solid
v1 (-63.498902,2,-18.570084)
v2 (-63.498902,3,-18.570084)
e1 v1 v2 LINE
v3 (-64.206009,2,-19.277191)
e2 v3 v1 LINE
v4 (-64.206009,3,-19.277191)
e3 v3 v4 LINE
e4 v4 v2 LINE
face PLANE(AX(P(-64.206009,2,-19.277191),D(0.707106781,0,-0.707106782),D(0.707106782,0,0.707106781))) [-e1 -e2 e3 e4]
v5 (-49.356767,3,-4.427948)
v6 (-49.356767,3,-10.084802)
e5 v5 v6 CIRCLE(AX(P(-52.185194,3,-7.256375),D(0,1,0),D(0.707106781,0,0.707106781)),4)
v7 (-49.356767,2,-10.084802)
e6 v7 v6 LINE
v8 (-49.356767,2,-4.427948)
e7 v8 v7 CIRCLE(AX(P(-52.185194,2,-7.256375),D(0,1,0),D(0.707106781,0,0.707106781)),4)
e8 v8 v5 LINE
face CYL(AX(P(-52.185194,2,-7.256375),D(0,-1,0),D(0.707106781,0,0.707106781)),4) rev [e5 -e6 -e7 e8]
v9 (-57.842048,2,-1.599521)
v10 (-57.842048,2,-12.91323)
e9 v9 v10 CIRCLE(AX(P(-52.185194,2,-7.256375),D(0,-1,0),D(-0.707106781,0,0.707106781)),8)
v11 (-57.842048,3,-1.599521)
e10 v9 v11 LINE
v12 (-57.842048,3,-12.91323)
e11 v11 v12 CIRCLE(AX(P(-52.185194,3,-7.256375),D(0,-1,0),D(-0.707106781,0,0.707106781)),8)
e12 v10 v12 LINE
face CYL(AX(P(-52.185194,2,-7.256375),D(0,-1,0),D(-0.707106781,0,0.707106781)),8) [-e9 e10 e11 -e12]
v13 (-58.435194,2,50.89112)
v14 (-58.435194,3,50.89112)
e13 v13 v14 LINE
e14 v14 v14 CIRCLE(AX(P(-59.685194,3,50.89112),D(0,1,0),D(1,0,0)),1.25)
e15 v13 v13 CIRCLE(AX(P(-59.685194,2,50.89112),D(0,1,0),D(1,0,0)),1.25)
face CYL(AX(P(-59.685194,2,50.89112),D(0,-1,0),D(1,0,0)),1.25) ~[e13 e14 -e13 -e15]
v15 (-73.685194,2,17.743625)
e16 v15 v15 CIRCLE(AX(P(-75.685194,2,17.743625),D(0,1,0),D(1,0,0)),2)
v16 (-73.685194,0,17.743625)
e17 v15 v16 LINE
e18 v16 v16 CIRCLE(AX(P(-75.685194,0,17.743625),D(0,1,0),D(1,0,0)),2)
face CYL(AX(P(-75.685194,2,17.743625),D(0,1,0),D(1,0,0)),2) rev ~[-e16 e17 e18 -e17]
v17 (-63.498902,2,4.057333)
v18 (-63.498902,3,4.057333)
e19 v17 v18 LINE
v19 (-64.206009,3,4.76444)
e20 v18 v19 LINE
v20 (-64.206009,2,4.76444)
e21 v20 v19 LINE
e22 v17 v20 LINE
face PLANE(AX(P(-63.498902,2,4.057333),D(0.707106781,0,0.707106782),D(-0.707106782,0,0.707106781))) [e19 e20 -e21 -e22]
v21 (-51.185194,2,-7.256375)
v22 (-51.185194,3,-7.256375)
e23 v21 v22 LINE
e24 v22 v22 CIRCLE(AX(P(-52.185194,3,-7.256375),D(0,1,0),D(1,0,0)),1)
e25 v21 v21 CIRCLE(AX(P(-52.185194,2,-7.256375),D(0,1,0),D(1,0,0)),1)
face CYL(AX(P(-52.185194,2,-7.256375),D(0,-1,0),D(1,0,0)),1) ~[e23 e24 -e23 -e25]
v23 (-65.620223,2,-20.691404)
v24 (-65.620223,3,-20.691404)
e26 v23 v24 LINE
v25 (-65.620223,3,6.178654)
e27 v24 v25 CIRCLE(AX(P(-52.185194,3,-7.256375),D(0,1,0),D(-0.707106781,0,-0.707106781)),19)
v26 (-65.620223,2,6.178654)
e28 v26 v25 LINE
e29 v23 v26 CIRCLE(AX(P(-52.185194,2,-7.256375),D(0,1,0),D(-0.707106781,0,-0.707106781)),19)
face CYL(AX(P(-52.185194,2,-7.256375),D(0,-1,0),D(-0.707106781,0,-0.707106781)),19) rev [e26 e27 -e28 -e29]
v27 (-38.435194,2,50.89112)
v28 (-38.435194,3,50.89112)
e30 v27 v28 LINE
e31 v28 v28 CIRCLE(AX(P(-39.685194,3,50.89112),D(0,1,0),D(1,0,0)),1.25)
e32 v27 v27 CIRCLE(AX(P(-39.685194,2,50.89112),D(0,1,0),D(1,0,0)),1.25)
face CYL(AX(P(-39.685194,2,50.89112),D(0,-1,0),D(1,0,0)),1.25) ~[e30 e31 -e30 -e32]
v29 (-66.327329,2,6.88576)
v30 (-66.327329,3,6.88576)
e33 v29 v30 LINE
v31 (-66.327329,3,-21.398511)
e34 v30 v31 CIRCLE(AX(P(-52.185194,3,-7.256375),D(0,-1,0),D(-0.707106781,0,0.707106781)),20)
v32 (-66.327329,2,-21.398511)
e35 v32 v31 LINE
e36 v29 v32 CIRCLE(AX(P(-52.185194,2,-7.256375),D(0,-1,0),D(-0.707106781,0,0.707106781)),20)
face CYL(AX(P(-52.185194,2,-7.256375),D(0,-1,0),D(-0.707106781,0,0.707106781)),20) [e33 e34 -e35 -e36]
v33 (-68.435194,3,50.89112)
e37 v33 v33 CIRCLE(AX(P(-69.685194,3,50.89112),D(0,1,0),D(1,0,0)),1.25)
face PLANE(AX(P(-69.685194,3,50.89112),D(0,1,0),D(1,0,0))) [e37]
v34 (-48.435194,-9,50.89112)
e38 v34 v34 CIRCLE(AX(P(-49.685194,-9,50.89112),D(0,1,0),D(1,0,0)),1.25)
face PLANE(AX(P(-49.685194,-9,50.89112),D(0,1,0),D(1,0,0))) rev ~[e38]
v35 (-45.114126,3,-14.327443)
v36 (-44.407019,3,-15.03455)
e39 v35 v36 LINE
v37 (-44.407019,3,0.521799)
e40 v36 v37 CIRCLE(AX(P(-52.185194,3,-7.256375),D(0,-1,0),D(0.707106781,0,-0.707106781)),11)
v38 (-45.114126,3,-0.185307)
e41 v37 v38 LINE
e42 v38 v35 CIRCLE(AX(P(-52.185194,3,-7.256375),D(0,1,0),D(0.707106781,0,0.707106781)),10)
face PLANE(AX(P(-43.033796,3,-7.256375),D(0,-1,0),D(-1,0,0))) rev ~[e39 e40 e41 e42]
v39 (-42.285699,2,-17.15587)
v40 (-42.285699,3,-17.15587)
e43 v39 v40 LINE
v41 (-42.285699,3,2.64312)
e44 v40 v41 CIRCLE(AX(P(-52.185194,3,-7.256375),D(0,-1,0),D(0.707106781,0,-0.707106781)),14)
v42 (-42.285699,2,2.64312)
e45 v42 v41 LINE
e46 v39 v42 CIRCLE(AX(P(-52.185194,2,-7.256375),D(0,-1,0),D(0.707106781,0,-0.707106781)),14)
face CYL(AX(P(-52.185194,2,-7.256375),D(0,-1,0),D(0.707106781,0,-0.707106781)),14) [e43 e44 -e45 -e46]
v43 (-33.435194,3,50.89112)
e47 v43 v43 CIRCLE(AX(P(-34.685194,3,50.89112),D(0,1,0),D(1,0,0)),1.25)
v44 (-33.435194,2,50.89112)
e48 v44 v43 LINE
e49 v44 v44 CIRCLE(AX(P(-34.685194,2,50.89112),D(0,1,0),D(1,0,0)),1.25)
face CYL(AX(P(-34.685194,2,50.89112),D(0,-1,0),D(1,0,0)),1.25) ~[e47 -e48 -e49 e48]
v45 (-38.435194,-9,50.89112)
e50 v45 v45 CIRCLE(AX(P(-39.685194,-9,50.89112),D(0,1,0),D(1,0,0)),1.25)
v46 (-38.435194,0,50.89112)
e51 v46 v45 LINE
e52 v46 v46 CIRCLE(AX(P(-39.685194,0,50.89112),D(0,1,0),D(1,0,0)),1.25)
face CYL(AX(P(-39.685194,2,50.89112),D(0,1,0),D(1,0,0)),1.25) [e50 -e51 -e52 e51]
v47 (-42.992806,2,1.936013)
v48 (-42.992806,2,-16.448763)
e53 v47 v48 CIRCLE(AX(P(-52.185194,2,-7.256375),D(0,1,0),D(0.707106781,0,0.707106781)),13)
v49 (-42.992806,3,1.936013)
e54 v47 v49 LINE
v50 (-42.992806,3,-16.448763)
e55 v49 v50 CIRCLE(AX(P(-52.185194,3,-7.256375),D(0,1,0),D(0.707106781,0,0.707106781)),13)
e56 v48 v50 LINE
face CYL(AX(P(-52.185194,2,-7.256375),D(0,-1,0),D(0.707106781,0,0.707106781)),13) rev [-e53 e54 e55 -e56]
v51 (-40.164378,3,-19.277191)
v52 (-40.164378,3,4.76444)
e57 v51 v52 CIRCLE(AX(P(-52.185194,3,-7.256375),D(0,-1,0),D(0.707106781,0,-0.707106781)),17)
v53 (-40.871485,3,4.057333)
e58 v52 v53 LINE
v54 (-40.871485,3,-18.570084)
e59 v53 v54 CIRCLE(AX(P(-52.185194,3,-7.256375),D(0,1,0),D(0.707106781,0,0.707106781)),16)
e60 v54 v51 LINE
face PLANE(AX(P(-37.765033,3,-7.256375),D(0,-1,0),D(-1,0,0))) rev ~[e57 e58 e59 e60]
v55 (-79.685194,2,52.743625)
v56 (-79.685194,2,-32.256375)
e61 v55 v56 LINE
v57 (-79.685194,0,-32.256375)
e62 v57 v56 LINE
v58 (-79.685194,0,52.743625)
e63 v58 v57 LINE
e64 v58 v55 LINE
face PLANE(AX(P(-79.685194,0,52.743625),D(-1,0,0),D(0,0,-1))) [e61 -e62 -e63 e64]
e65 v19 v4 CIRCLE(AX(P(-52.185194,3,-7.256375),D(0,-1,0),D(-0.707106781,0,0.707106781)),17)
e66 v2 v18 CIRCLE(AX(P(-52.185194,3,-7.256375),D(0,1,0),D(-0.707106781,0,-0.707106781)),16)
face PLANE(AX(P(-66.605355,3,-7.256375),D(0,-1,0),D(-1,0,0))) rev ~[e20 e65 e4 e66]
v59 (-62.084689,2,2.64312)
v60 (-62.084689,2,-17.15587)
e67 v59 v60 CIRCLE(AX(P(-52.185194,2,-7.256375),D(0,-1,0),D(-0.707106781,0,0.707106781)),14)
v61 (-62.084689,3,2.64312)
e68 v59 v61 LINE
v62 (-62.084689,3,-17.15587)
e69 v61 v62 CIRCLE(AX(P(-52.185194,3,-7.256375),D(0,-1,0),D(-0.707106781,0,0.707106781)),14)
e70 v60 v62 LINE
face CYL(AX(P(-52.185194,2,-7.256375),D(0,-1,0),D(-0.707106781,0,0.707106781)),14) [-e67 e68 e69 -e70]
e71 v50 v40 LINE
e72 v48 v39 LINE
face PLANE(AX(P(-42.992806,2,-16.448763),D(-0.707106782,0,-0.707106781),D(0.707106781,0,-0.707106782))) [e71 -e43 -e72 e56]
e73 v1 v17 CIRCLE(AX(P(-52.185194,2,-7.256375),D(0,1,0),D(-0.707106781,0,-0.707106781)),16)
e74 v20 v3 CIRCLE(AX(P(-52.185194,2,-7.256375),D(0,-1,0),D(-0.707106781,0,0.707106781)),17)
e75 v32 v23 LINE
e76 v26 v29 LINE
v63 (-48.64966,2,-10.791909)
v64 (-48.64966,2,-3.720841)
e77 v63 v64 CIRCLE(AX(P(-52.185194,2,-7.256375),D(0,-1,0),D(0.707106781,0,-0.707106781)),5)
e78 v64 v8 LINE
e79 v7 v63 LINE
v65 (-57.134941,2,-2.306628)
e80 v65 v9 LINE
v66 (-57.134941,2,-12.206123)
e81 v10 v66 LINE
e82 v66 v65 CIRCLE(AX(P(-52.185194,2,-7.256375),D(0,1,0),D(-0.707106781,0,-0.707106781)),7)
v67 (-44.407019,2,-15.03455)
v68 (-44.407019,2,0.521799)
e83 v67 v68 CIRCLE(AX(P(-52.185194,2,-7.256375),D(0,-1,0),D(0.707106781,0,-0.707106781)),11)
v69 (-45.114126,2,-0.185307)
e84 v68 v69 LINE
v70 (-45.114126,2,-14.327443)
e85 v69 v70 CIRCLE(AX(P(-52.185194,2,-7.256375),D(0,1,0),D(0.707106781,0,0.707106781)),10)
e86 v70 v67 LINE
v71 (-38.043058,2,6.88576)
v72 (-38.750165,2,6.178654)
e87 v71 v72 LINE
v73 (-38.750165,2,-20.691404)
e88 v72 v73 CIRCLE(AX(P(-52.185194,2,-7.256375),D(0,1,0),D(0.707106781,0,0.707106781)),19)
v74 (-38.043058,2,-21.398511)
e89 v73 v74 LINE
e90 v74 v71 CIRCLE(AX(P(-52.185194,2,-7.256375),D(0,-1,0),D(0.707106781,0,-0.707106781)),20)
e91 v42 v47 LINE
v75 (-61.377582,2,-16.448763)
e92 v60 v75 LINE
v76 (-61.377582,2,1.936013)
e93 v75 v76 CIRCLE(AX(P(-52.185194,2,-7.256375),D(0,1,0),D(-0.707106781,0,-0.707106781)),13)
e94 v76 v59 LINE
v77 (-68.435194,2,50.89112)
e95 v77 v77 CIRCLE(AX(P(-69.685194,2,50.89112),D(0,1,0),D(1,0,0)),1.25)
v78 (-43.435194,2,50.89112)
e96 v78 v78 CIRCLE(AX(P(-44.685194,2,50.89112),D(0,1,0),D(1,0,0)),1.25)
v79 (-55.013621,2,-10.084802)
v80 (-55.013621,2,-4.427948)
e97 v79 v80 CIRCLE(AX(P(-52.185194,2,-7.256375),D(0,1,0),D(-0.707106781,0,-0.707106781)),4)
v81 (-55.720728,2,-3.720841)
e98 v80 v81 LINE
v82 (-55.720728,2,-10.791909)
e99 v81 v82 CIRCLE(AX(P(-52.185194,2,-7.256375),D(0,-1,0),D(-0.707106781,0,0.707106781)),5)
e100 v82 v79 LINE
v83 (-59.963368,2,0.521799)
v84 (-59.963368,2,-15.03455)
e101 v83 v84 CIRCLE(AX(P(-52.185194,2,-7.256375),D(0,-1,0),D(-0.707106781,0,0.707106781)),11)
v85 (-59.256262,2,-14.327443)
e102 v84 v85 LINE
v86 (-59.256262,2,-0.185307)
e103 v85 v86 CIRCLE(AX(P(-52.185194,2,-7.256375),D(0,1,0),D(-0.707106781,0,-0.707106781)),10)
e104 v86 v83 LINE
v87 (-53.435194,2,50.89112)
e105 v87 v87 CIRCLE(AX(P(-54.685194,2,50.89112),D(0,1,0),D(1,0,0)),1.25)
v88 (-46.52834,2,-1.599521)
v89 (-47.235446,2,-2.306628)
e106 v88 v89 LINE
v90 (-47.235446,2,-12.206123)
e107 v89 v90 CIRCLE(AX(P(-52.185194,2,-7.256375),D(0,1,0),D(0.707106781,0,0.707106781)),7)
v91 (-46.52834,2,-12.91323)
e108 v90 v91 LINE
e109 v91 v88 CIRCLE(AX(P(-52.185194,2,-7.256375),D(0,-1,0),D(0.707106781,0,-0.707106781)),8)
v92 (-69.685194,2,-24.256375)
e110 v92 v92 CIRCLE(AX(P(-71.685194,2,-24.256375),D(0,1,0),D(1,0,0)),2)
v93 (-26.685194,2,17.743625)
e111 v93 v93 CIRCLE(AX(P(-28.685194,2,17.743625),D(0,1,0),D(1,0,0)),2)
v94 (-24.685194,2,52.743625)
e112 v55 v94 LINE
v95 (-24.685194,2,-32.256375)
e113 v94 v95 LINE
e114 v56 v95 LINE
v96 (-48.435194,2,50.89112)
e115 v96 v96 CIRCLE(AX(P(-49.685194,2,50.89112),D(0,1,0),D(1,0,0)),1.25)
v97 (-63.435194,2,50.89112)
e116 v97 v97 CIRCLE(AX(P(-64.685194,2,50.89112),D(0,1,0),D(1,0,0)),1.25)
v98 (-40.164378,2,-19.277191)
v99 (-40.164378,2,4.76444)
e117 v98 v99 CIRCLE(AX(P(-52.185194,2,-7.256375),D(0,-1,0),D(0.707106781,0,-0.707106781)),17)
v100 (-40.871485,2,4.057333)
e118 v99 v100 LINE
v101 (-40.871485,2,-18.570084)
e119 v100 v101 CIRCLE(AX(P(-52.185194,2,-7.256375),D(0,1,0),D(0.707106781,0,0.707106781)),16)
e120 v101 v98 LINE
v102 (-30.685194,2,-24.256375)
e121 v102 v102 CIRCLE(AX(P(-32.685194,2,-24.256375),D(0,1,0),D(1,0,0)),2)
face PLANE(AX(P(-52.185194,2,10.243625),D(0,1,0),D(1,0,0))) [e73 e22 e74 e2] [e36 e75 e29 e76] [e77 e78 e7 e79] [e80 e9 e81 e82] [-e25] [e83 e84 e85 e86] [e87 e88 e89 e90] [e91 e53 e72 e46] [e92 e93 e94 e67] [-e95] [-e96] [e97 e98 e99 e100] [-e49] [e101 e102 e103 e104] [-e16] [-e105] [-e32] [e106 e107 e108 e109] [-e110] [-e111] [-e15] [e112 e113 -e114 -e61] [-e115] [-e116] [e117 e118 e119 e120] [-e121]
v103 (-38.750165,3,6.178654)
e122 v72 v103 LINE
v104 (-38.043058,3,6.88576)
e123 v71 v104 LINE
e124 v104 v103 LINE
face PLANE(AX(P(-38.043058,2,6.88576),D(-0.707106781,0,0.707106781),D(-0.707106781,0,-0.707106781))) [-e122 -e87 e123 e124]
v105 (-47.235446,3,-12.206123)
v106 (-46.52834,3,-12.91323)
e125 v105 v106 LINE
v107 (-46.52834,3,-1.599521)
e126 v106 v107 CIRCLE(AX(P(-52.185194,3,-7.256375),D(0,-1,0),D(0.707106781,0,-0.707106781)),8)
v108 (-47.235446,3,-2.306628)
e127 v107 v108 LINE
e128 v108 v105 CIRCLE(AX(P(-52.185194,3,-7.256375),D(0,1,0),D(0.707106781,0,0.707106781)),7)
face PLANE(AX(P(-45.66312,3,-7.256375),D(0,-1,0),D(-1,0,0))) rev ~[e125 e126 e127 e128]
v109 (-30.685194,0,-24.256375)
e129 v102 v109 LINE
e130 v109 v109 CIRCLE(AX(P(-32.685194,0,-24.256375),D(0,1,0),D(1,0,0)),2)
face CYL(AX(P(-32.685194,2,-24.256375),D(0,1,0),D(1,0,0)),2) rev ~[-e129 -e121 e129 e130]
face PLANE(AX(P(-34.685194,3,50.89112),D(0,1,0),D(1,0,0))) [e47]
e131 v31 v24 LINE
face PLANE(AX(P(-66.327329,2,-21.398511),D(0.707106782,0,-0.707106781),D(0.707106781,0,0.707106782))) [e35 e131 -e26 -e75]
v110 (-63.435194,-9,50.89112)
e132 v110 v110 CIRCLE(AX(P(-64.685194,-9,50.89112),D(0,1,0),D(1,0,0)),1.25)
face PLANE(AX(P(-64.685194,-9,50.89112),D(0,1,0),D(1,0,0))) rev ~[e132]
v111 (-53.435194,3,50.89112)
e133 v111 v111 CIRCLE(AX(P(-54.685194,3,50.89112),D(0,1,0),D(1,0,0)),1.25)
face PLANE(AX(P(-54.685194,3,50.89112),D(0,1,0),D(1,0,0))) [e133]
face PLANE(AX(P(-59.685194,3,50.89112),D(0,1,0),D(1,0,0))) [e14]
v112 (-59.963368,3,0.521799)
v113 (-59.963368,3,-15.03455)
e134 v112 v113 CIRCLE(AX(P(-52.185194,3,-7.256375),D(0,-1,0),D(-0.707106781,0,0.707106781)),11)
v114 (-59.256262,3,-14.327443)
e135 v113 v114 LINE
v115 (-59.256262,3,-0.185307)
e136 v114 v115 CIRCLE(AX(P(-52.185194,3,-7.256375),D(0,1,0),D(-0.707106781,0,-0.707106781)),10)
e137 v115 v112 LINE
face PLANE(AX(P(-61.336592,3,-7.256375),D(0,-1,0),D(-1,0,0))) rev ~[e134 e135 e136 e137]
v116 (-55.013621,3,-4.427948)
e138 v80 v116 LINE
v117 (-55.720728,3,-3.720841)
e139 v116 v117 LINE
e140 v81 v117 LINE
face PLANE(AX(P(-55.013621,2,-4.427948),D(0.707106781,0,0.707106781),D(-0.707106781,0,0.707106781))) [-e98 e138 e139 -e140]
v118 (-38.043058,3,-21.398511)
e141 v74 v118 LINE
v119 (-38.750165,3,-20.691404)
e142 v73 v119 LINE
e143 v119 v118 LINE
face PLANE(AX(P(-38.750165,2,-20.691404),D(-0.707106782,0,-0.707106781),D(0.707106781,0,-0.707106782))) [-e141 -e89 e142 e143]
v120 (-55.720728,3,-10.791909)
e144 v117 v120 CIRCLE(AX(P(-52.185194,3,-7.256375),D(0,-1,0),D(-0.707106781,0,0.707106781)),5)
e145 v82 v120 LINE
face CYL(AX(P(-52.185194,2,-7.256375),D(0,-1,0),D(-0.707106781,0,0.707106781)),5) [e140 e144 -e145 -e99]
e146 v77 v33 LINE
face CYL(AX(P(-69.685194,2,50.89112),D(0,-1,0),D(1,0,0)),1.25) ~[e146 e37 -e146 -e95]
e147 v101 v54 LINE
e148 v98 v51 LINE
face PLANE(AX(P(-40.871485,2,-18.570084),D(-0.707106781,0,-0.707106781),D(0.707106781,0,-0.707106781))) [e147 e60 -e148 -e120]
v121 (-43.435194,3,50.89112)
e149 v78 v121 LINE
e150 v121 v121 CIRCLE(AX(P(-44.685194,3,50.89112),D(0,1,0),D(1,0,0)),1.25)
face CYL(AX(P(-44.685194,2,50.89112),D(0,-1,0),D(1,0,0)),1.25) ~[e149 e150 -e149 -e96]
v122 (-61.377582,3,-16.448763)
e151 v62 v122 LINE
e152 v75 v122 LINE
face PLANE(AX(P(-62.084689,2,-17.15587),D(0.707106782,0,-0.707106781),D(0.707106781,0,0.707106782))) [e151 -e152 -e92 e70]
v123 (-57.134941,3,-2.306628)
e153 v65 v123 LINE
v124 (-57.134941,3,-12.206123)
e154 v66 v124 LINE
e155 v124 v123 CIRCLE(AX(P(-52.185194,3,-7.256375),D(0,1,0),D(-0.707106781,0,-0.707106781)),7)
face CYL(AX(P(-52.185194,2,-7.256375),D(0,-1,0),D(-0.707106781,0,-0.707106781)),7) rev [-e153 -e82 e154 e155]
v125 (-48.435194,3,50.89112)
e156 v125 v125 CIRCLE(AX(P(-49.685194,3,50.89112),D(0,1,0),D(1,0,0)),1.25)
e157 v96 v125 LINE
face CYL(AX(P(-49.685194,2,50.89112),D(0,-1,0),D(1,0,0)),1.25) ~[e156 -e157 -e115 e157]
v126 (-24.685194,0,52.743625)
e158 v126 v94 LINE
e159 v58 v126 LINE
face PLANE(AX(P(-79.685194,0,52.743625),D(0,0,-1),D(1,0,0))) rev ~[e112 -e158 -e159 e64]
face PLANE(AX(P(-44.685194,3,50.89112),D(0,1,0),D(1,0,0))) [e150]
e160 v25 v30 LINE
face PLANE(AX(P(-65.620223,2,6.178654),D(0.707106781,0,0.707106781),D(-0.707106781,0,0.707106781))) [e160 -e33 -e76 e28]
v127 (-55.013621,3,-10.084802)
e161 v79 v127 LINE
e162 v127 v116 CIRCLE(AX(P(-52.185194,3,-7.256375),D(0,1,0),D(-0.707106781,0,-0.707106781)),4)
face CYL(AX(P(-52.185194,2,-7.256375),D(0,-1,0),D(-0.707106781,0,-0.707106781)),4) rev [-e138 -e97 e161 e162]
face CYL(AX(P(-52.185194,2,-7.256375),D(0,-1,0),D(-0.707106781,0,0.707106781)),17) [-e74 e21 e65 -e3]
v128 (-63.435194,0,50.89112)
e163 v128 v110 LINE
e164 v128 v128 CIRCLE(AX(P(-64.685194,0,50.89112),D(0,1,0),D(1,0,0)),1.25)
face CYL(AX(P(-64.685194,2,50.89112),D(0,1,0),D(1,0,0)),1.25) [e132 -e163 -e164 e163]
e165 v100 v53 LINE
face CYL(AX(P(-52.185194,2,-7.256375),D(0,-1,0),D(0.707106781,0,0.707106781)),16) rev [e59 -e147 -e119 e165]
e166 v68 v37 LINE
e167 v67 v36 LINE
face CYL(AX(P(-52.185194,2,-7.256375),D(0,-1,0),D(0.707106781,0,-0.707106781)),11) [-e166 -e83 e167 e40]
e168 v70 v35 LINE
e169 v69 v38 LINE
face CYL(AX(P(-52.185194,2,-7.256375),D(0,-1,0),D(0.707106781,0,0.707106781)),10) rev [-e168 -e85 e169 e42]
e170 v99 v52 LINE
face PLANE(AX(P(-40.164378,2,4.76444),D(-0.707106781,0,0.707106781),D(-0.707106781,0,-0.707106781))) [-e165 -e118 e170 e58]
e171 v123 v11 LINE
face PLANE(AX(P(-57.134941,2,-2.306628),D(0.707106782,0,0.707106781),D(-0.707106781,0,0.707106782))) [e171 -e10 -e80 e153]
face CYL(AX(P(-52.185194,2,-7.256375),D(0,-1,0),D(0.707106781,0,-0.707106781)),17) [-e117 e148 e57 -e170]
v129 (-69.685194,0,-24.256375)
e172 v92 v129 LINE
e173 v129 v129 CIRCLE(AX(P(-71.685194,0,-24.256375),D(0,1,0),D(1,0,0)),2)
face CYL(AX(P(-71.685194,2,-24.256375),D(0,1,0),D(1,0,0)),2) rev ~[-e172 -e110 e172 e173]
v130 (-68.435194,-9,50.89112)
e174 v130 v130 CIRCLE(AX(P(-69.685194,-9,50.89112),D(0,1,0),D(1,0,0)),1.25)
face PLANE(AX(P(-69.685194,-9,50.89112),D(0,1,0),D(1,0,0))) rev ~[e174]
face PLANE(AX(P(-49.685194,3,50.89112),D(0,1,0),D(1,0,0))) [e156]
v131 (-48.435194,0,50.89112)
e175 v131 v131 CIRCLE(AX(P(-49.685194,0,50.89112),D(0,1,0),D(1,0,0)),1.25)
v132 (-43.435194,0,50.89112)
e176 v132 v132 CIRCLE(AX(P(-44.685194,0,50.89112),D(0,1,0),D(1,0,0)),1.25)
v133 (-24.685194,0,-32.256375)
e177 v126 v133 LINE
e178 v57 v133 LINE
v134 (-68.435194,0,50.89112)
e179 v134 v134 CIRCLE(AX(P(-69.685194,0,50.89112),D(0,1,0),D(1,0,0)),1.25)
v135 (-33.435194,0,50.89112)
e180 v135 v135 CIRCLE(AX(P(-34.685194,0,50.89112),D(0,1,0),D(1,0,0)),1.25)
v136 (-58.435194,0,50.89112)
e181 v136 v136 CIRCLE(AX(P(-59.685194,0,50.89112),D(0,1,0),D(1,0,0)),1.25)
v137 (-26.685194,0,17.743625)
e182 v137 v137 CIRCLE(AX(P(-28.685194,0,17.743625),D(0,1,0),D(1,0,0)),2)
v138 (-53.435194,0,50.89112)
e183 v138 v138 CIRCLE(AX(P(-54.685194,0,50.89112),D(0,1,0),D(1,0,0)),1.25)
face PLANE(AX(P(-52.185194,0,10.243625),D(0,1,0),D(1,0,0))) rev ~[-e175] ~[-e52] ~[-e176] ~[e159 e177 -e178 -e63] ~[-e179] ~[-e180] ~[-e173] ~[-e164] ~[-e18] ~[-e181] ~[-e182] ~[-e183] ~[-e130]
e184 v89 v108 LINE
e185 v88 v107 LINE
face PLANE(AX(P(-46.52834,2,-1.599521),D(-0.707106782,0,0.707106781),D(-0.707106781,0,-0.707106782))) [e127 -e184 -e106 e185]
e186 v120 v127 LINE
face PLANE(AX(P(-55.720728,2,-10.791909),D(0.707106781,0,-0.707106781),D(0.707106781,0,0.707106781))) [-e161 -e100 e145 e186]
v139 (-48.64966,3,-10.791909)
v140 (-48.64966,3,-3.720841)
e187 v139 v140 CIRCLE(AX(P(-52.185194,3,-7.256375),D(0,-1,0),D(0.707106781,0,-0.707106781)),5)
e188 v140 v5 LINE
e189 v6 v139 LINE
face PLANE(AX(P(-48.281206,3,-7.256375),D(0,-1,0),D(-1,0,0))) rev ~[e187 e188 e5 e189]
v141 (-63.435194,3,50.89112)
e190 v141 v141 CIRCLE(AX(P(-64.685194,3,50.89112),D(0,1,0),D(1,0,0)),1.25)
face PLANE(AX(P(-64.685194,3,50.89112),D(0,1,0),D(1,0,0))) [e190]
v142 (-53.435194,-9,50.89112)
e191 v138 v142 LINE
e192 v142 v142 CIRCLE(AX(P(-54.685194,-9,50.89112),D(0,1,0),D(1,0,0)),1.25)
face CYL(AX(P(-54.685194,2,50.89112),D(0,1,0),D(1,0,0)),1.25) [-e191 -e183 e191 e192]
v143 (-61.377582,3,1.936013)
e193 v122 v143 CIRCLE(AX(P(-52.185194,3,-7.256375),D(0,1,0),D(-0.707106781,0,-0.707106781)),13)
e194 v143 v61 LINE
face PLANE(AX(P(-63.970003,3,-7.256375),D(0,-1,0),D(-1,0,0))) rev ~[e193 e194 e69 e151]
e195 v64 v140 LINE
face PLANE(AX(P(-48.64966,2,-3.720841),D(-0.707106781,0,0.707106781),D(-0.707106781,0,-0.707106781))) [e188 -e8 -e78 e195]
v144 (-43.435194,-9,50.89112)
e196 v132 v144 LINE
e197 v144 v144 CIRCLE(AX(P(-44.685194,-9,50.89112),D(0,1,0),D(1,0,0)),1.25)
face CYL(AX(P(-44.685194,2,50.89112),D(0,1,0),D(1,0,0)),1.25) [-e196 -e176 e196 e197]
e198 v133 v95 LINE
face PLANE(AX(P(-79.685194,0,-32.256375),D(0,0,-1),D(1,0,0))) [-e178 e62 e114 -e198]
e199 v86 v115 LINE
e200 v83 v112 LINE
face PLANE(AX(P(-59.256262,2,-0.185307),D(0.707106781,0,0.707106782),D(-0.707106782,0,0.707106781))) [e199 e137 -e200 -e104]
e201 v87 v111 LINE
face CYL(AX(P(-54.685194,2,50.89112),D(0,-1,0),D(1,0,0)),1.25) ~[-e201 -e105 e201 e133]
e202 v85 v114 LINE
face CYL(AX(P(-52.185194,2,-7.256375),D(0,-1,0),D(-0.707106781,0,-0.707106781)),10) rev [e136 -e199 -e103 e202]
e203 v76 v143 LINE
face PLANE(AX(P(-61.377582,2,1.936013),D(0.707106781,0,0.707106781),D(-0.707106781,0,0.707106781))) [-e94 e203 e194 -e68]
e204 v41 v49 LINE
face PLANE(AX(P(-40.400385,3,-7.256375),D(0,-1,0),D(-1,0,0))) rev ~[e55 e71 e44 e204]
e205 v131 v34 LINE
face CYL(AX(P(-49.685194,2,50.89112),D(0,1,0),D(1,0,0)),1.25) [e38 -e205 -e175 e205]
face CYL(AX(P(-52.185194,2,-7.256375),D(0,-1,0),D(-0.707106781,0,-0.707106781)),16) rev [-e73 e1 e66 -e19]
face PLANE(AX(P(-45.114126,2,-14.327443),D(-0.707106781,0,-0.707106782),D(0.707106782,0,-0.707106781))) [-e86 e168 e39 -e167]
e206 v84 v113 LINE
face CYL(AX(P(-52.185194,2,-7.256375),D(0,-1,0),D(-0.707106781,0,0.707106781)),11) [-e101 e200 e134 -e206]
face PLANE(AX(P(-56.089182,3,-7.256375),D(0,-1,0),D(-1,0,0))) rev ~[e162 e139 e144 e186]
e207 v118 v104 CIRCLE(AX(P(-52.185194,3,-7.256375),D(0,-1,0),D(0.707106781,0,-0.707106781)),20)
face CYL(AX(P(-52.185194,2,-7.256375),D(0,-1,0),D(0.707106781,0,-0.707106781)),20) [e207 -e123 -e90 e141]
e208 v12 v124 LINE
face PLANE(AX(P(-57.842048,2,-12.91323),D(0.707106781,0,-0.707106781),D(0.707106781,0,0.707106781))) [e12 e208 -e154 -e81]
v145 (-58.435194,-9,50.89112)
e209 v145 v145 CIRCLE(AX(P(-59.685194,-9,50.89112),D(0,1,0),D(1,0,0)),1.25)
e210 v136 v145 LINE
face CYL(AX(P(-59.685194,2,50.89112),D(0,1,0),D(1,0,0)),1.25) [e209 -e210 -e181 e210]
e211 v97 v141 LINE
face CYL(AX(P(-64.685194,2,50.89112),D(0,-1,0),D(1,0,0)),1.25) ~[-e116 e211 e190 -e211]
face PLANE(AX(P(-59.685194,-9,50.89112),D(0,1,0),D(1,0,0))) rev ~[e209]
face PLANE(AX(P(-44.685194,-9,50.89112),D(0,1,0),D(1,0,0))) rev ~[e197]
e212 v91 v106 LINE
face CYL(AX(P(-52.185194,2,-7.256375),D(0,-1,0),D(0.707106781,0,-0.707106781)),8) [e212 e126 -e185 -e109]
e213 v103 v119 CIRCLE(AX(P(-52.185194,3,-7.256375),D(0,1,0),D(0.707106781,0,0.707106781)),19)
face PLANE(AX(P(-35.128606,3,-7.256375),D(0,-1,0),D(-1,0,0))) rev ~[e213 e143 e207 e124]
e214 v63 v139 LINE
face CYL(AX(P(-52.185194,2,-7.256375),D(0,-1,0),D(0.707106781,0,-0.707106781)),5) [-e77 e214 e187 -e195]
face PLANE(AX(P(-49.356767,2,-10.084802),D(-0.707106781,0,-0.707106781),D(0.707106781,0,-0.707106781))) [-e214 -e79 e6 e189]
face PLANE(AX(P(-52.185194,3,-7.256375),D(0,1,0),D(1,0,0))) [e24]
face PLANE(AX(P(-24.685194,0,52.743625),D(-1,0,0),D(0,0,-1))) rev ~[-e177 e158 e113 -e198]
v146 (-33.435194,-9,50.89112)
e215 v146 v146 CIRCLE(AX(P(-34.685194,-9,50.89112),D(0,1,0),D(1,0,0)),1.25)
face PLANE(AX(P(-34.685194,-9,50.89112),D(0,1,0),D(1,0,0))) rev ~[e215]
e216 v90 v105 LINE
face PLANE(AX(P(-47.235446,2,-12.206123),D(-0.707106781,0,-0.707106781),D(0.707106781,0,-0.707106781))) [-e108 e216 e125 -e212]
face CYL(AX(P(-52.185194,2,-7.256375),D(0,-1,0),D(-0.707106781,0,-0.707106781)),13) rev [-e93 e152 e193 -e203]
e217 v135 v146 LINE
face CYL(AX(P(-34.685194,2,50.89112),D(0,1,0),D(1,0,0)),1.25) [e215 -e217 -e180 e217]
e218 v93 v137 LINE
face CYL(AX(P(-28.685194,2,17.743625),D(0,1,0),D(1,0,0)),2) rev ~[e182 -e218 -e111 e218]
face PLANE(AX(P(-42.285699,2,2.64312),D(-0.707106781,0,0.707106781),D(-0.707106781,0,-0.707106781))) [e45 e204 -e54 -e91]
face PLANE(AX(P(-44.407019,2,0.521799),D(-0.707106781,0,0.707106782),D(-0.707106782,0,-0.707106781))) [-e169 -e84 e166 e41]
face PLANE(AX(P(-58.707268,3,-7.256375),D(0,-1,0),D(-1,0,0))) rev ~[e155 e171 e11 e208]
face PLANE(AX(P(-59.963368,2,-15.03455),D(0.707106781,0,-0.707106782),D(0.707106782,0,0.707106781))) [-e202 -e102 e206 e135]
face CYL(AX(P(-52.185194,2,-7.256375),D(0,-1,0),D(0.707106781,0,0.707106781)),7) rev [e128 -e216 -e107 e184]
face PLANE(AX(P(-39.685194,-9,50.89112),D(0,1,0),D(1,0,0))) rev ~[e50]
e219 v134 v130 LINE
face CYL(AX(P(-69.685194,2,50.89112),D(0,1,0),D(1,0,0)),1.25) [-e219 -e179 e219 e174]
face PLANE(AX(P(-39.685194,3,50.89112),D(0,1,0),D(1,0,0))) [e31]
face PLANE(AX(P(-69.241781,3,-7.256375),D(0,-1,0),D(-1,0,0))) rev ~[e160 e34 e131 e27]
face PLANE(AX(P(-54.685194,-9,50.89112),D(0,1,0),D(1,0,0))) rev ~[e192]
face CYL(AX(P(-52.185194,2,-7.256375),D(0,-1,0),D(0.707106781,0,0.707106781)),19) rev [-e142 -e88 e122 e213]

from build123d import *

# Parameters (mm, degrees)
ESBO_O1_W                     = 55
ESBO_O1_H                     = 85
RESSALTO_EXTRUS_O1_DEPTH      = 2
ESBO_O2_R                     = 1
RESSALTO_EXTRUS_O2_DEPTH      = 1
ESBO_O3_R                     = 1.25
RESSALTO_EXTRUS_O3_DEPTH      = 1
RESSALTO_EXTRUS_O3_DEPTH_BACK = 11
ESBO_O4_R                     = 2
CORTE_EXTRUS_O1_DEPTH         = 3


with BuildPart() as part:
    # Esboço1 → Ressalto-extrusão1 (new body)
    with BuildSketch(Plane(origin=(0, 0, 0), x_dir=(1, 0, 0), z_dir=(0, 1, 0))):
        with Locations((-52.185193749, -10.243624719)):
            Rectangle(ESBO_O1_W, ESBO_O1_H)
    extrude(amount=RESSALTO_EXTRUS_O1_DEPTH)

    # Esboço2 → Ressalto-extrusão2 (add)
    with BuildSketch(Plane(origin=(0, 2, 0), x_dir=(1, 0, 0), z_dir=(0, 1, 0))):
        with Locations((-52.185193749, 7.256375281)):
            Circle(ESBO_O2_R)
        with BuildLine():
            Line((-55.720727655, 10.791909187), (-55.013620874, 10.084802406))
            ThreePointArc((-55.013620874, 10.084802406), (-56.185193749, 7.256375281), (-55.013620874, 4.427948156))
            Line((-55.013620874, 4.427948156), (-55.720727655, 3.720841375))
            ThreePointArc((-55.720727655, 3.720841375), (-57.185193749, 7.256375281), (-55.720727655, 10.791909187))
        make_face()
        with BuildLine():
            Line((-57.842047999, 12.91322953), (-57.134941218, 12.206122749))
            ThreePointArc((-57.134941218, 12.206122749), (-59.185193749, 7.256375281), (-57.134941218, 2.306627813))
            Line((-57.134941218, 2.306627813), (-57.842047999, 1.599521031))
            ThreePointArc((-57.842047999, 1.599521031), (-60.185193749, 7.256375281), (-57.842047999, 12.91322953))
        make_face()
        with BuildLine():
            Line((-59.963368343, 15.034549874), (-59.256261561, 14.327443093))
            ThreePointArc((-59.256261561, 14.327443093), (-62.185193749, 7.256375281), (-59.256261561, 0.185307469))
            Line((-59.256261561, 0.185307469), (-59.963368343, -0.521799312))
            ThreePointArc((-59.963368343, -0.521799312), (-63.185193749, 7.256375281), (-59.963368343, 15.034549874))
        make_face()
        with BuildLine():
            Line((-62.084688686, 17.155870218), (-61.377581905, 16.448763436))
            ThreePointArc((-61.377581905, 16.448763436), (-65.185193749, 7.256375281), (-61.377581905, -1.936012875))
            Line((-61.377581905, -1.936012875), (-62.084688686, -2.643119656))
            ThreePointArc((-62.084688686, -2.643119656), (-66.185193749, 7.256375281), (-62.084688686, 17.155870218))
        make_face()
        with BuildLine():
            Line((-64.20600903, 19.277190561), (-63.498902248, 18.57008378))
            ThreePointArc((-63.498902248, 18.57008378), (-68.185193749, 7.256375281), (-63.498902248, -4.057333218))
            Line((-63.498902248, -4.057333218), (-64.20600903, -4.764439999))
            ThreePointArc((-64.20600903, -4.764439999), (-69.185193749, 7.256375281), (-64.20600903, 19.277190561))
        make_face()
        with BuildLine():
            Line((-66.327329373, 21.398510905), (-65.620222592, 20.691404123))
            ThreePointArc((-65.620222592, 20.691404123), (-71.185193749, 7.256375281), (-65.620222592, -6.178653562))
            Line((-65.620222592, -6.178653562), (-66.327329373, -6.885760343))
            ThreePointArc((-66.327329373, -6.885760343), (-72.185193749, 7.256375281), (-66.327329373, 21.398510905))
        make_face()
        with BuildLine():
            ThreePointArc((-49.356766625, 4.427948156), (-48.185193749, 7.256375281), (-49.356766625, 10.084802406))
            Line((-49.356766625, 10.084802406), (-48.649659844, 10.791909187))
            ThreePointArc((-48.649659844, 10.791909187), (-47.185193749, 7.256375281), (-48.649659844, 3.720841375))
            Line((-48.649659844, 3.720841375), (-49.356766625, 4.427948156))
        make_face()
        with BuildLine():
            ThreePointArc((-47.235446281, 2.306627813), (-45.185193749, 7.256375281), (-47.235446281, 12.206122749))
            Line((-47.235446281, 12.206122749), (-46.5283395, 12.91322953))
            ThreePointArc((-46.5283395, 12.91322953), (-44.185193749, 7.256375281), (-46.5283395, 1.599521031))
            Line((-46.5283395, 1.599521031), (-47.235446281, 2.306627813))
        make_face()
        with BuildLine():
            ThreePointArc((-45.114125938, 0.185307469), (-42.185193749, 7.256375281), (-45.114125938, 14.327443093))
            Line((-45.114125938, 14.327443093), (-44.407019156, 15.034549874))
            ThreePointArc((-44.407019156, 15.034549874), (-41.185193749, 7.256375281), (-44.407019156, -0.521799312))
            Line((-44.407019156, -0.521799312), (-45.114125938, 0.185307469))
        make_face()
        with BuildLine():
            ThreePointArc((-42.992805594, -1.936012875), (-39.185193749, 7.256375281), (-42.992805594, 16.448763436))
            Line((-42.992805594, 16.448763436), (-42.285698813, 17.155870218))
            ThreePointArc((-42.285698813, 17.155870218), (-38.185193749, 7.256375281), (-42.285698813, -2.643119656))
            Line((-42.285698813, -2.643119656), (-42.992805594, -1.936012875))
        make_face()
        with BuildLine():
            ThreePointArc((-40.87148525, -4.057333218), (-36.185193749, 7.256375281), (-40.87148525, 18.57008378))
            Line((-40.87148525, 18.57008378), (-40.164378469, 19.277190561))
            ThreePointArc((-40.164378469, 19.277190561), (-35.185193749, 7.256375281), (-40.164378469, -4.764439999))
            Line((-40.164378469, -4.764439999), (-40.87148525, -4.057333218))
        make_face()
        with BuildLine():
            ThreePointArc((-38.750164907, -6.178653562), (-33.185193749, 7.256375281), (-38.750164907, 20.691404123))
            Line((-38.750164907, 20.691404123), (-38.043058126, 21.398510905))
            ThreePointArc((-38.043058126, 21.398510905), (-32.185193749, 7.256375281), (-38.043058126, -6.885760343))
            Line((-38.043058126, -6.885760343), (-38.750164907, -6.178653562))
        make_face()
    extrude(amount=RESSALTO_EXTRUS_O2_DEPTH)

    # Esboço3 → Ressalto-extrusão3 (add, two sides)
    with BuildSketch(Plane(origin=(0, 2, 0), x_dir=(1, 0, 0), z_dir=(0, 1, 0))) as ressalto_extrus_o3_sk:
        with Locations((-69.685193749, -50.8911199)):
            Circle(ESBO_O3_R)
        with Locations((-64.685193749, -50.8911199)):
            Circle(ESBO_O3_R)
        with Locations((-59.685193749, -50.8911199)):
            Circle(ESBO_O3_R)
        with Locations((-54.685193749, -50.8911199)):
            Circle(ESBO_O3_R)
        with Locations((-49.685193749, -50.8911199)):
            Circle(ESBO_O3_R)
        with Locations((-44.685193749, -50.8911199)):
            Circle(ESBO_O3_R)
        with Locations((-39.685193749, -50.8911199)):
            Circle(ESBO_O3_R)
        with Locations((-34.685193749, -50.8911199)):
            Circle(ESBO_O3_R)
    extrude(amount=RESSALTO_EXTRUS_O3_DEPTH)
    extrude(ressalto_extrus_o3_sk.sketch, amount=-RESSALTO_EXTRUS_O3_DEPTH_BACK)

    # Esboço4 → Corte-extrusão1 (cut)
    with BuildSketch(Plane(origin=(0, 2, 0), x_dir=(1, 0, 0), z_dir=(0, 1, 0))):
        with Locations((-71.685193749, 24.256375281)):
            Circle(ESBO_O4_R)
        with Locations((-32.685193749, 24.256375281)):
            Circle(ESBO_O4_R)
        with Locations((-75.685193749, -17.743624719)):
            Circle(ESBO_O4_R)
        with Locations((-28.685193749, -17.743624719)):
            Circle(ESBO_O4_R)
    extrude(amount=-CORTE_EXTRUS_O1_DEPTH, mode=Mode.SUBTRACT)


solid = part.part
